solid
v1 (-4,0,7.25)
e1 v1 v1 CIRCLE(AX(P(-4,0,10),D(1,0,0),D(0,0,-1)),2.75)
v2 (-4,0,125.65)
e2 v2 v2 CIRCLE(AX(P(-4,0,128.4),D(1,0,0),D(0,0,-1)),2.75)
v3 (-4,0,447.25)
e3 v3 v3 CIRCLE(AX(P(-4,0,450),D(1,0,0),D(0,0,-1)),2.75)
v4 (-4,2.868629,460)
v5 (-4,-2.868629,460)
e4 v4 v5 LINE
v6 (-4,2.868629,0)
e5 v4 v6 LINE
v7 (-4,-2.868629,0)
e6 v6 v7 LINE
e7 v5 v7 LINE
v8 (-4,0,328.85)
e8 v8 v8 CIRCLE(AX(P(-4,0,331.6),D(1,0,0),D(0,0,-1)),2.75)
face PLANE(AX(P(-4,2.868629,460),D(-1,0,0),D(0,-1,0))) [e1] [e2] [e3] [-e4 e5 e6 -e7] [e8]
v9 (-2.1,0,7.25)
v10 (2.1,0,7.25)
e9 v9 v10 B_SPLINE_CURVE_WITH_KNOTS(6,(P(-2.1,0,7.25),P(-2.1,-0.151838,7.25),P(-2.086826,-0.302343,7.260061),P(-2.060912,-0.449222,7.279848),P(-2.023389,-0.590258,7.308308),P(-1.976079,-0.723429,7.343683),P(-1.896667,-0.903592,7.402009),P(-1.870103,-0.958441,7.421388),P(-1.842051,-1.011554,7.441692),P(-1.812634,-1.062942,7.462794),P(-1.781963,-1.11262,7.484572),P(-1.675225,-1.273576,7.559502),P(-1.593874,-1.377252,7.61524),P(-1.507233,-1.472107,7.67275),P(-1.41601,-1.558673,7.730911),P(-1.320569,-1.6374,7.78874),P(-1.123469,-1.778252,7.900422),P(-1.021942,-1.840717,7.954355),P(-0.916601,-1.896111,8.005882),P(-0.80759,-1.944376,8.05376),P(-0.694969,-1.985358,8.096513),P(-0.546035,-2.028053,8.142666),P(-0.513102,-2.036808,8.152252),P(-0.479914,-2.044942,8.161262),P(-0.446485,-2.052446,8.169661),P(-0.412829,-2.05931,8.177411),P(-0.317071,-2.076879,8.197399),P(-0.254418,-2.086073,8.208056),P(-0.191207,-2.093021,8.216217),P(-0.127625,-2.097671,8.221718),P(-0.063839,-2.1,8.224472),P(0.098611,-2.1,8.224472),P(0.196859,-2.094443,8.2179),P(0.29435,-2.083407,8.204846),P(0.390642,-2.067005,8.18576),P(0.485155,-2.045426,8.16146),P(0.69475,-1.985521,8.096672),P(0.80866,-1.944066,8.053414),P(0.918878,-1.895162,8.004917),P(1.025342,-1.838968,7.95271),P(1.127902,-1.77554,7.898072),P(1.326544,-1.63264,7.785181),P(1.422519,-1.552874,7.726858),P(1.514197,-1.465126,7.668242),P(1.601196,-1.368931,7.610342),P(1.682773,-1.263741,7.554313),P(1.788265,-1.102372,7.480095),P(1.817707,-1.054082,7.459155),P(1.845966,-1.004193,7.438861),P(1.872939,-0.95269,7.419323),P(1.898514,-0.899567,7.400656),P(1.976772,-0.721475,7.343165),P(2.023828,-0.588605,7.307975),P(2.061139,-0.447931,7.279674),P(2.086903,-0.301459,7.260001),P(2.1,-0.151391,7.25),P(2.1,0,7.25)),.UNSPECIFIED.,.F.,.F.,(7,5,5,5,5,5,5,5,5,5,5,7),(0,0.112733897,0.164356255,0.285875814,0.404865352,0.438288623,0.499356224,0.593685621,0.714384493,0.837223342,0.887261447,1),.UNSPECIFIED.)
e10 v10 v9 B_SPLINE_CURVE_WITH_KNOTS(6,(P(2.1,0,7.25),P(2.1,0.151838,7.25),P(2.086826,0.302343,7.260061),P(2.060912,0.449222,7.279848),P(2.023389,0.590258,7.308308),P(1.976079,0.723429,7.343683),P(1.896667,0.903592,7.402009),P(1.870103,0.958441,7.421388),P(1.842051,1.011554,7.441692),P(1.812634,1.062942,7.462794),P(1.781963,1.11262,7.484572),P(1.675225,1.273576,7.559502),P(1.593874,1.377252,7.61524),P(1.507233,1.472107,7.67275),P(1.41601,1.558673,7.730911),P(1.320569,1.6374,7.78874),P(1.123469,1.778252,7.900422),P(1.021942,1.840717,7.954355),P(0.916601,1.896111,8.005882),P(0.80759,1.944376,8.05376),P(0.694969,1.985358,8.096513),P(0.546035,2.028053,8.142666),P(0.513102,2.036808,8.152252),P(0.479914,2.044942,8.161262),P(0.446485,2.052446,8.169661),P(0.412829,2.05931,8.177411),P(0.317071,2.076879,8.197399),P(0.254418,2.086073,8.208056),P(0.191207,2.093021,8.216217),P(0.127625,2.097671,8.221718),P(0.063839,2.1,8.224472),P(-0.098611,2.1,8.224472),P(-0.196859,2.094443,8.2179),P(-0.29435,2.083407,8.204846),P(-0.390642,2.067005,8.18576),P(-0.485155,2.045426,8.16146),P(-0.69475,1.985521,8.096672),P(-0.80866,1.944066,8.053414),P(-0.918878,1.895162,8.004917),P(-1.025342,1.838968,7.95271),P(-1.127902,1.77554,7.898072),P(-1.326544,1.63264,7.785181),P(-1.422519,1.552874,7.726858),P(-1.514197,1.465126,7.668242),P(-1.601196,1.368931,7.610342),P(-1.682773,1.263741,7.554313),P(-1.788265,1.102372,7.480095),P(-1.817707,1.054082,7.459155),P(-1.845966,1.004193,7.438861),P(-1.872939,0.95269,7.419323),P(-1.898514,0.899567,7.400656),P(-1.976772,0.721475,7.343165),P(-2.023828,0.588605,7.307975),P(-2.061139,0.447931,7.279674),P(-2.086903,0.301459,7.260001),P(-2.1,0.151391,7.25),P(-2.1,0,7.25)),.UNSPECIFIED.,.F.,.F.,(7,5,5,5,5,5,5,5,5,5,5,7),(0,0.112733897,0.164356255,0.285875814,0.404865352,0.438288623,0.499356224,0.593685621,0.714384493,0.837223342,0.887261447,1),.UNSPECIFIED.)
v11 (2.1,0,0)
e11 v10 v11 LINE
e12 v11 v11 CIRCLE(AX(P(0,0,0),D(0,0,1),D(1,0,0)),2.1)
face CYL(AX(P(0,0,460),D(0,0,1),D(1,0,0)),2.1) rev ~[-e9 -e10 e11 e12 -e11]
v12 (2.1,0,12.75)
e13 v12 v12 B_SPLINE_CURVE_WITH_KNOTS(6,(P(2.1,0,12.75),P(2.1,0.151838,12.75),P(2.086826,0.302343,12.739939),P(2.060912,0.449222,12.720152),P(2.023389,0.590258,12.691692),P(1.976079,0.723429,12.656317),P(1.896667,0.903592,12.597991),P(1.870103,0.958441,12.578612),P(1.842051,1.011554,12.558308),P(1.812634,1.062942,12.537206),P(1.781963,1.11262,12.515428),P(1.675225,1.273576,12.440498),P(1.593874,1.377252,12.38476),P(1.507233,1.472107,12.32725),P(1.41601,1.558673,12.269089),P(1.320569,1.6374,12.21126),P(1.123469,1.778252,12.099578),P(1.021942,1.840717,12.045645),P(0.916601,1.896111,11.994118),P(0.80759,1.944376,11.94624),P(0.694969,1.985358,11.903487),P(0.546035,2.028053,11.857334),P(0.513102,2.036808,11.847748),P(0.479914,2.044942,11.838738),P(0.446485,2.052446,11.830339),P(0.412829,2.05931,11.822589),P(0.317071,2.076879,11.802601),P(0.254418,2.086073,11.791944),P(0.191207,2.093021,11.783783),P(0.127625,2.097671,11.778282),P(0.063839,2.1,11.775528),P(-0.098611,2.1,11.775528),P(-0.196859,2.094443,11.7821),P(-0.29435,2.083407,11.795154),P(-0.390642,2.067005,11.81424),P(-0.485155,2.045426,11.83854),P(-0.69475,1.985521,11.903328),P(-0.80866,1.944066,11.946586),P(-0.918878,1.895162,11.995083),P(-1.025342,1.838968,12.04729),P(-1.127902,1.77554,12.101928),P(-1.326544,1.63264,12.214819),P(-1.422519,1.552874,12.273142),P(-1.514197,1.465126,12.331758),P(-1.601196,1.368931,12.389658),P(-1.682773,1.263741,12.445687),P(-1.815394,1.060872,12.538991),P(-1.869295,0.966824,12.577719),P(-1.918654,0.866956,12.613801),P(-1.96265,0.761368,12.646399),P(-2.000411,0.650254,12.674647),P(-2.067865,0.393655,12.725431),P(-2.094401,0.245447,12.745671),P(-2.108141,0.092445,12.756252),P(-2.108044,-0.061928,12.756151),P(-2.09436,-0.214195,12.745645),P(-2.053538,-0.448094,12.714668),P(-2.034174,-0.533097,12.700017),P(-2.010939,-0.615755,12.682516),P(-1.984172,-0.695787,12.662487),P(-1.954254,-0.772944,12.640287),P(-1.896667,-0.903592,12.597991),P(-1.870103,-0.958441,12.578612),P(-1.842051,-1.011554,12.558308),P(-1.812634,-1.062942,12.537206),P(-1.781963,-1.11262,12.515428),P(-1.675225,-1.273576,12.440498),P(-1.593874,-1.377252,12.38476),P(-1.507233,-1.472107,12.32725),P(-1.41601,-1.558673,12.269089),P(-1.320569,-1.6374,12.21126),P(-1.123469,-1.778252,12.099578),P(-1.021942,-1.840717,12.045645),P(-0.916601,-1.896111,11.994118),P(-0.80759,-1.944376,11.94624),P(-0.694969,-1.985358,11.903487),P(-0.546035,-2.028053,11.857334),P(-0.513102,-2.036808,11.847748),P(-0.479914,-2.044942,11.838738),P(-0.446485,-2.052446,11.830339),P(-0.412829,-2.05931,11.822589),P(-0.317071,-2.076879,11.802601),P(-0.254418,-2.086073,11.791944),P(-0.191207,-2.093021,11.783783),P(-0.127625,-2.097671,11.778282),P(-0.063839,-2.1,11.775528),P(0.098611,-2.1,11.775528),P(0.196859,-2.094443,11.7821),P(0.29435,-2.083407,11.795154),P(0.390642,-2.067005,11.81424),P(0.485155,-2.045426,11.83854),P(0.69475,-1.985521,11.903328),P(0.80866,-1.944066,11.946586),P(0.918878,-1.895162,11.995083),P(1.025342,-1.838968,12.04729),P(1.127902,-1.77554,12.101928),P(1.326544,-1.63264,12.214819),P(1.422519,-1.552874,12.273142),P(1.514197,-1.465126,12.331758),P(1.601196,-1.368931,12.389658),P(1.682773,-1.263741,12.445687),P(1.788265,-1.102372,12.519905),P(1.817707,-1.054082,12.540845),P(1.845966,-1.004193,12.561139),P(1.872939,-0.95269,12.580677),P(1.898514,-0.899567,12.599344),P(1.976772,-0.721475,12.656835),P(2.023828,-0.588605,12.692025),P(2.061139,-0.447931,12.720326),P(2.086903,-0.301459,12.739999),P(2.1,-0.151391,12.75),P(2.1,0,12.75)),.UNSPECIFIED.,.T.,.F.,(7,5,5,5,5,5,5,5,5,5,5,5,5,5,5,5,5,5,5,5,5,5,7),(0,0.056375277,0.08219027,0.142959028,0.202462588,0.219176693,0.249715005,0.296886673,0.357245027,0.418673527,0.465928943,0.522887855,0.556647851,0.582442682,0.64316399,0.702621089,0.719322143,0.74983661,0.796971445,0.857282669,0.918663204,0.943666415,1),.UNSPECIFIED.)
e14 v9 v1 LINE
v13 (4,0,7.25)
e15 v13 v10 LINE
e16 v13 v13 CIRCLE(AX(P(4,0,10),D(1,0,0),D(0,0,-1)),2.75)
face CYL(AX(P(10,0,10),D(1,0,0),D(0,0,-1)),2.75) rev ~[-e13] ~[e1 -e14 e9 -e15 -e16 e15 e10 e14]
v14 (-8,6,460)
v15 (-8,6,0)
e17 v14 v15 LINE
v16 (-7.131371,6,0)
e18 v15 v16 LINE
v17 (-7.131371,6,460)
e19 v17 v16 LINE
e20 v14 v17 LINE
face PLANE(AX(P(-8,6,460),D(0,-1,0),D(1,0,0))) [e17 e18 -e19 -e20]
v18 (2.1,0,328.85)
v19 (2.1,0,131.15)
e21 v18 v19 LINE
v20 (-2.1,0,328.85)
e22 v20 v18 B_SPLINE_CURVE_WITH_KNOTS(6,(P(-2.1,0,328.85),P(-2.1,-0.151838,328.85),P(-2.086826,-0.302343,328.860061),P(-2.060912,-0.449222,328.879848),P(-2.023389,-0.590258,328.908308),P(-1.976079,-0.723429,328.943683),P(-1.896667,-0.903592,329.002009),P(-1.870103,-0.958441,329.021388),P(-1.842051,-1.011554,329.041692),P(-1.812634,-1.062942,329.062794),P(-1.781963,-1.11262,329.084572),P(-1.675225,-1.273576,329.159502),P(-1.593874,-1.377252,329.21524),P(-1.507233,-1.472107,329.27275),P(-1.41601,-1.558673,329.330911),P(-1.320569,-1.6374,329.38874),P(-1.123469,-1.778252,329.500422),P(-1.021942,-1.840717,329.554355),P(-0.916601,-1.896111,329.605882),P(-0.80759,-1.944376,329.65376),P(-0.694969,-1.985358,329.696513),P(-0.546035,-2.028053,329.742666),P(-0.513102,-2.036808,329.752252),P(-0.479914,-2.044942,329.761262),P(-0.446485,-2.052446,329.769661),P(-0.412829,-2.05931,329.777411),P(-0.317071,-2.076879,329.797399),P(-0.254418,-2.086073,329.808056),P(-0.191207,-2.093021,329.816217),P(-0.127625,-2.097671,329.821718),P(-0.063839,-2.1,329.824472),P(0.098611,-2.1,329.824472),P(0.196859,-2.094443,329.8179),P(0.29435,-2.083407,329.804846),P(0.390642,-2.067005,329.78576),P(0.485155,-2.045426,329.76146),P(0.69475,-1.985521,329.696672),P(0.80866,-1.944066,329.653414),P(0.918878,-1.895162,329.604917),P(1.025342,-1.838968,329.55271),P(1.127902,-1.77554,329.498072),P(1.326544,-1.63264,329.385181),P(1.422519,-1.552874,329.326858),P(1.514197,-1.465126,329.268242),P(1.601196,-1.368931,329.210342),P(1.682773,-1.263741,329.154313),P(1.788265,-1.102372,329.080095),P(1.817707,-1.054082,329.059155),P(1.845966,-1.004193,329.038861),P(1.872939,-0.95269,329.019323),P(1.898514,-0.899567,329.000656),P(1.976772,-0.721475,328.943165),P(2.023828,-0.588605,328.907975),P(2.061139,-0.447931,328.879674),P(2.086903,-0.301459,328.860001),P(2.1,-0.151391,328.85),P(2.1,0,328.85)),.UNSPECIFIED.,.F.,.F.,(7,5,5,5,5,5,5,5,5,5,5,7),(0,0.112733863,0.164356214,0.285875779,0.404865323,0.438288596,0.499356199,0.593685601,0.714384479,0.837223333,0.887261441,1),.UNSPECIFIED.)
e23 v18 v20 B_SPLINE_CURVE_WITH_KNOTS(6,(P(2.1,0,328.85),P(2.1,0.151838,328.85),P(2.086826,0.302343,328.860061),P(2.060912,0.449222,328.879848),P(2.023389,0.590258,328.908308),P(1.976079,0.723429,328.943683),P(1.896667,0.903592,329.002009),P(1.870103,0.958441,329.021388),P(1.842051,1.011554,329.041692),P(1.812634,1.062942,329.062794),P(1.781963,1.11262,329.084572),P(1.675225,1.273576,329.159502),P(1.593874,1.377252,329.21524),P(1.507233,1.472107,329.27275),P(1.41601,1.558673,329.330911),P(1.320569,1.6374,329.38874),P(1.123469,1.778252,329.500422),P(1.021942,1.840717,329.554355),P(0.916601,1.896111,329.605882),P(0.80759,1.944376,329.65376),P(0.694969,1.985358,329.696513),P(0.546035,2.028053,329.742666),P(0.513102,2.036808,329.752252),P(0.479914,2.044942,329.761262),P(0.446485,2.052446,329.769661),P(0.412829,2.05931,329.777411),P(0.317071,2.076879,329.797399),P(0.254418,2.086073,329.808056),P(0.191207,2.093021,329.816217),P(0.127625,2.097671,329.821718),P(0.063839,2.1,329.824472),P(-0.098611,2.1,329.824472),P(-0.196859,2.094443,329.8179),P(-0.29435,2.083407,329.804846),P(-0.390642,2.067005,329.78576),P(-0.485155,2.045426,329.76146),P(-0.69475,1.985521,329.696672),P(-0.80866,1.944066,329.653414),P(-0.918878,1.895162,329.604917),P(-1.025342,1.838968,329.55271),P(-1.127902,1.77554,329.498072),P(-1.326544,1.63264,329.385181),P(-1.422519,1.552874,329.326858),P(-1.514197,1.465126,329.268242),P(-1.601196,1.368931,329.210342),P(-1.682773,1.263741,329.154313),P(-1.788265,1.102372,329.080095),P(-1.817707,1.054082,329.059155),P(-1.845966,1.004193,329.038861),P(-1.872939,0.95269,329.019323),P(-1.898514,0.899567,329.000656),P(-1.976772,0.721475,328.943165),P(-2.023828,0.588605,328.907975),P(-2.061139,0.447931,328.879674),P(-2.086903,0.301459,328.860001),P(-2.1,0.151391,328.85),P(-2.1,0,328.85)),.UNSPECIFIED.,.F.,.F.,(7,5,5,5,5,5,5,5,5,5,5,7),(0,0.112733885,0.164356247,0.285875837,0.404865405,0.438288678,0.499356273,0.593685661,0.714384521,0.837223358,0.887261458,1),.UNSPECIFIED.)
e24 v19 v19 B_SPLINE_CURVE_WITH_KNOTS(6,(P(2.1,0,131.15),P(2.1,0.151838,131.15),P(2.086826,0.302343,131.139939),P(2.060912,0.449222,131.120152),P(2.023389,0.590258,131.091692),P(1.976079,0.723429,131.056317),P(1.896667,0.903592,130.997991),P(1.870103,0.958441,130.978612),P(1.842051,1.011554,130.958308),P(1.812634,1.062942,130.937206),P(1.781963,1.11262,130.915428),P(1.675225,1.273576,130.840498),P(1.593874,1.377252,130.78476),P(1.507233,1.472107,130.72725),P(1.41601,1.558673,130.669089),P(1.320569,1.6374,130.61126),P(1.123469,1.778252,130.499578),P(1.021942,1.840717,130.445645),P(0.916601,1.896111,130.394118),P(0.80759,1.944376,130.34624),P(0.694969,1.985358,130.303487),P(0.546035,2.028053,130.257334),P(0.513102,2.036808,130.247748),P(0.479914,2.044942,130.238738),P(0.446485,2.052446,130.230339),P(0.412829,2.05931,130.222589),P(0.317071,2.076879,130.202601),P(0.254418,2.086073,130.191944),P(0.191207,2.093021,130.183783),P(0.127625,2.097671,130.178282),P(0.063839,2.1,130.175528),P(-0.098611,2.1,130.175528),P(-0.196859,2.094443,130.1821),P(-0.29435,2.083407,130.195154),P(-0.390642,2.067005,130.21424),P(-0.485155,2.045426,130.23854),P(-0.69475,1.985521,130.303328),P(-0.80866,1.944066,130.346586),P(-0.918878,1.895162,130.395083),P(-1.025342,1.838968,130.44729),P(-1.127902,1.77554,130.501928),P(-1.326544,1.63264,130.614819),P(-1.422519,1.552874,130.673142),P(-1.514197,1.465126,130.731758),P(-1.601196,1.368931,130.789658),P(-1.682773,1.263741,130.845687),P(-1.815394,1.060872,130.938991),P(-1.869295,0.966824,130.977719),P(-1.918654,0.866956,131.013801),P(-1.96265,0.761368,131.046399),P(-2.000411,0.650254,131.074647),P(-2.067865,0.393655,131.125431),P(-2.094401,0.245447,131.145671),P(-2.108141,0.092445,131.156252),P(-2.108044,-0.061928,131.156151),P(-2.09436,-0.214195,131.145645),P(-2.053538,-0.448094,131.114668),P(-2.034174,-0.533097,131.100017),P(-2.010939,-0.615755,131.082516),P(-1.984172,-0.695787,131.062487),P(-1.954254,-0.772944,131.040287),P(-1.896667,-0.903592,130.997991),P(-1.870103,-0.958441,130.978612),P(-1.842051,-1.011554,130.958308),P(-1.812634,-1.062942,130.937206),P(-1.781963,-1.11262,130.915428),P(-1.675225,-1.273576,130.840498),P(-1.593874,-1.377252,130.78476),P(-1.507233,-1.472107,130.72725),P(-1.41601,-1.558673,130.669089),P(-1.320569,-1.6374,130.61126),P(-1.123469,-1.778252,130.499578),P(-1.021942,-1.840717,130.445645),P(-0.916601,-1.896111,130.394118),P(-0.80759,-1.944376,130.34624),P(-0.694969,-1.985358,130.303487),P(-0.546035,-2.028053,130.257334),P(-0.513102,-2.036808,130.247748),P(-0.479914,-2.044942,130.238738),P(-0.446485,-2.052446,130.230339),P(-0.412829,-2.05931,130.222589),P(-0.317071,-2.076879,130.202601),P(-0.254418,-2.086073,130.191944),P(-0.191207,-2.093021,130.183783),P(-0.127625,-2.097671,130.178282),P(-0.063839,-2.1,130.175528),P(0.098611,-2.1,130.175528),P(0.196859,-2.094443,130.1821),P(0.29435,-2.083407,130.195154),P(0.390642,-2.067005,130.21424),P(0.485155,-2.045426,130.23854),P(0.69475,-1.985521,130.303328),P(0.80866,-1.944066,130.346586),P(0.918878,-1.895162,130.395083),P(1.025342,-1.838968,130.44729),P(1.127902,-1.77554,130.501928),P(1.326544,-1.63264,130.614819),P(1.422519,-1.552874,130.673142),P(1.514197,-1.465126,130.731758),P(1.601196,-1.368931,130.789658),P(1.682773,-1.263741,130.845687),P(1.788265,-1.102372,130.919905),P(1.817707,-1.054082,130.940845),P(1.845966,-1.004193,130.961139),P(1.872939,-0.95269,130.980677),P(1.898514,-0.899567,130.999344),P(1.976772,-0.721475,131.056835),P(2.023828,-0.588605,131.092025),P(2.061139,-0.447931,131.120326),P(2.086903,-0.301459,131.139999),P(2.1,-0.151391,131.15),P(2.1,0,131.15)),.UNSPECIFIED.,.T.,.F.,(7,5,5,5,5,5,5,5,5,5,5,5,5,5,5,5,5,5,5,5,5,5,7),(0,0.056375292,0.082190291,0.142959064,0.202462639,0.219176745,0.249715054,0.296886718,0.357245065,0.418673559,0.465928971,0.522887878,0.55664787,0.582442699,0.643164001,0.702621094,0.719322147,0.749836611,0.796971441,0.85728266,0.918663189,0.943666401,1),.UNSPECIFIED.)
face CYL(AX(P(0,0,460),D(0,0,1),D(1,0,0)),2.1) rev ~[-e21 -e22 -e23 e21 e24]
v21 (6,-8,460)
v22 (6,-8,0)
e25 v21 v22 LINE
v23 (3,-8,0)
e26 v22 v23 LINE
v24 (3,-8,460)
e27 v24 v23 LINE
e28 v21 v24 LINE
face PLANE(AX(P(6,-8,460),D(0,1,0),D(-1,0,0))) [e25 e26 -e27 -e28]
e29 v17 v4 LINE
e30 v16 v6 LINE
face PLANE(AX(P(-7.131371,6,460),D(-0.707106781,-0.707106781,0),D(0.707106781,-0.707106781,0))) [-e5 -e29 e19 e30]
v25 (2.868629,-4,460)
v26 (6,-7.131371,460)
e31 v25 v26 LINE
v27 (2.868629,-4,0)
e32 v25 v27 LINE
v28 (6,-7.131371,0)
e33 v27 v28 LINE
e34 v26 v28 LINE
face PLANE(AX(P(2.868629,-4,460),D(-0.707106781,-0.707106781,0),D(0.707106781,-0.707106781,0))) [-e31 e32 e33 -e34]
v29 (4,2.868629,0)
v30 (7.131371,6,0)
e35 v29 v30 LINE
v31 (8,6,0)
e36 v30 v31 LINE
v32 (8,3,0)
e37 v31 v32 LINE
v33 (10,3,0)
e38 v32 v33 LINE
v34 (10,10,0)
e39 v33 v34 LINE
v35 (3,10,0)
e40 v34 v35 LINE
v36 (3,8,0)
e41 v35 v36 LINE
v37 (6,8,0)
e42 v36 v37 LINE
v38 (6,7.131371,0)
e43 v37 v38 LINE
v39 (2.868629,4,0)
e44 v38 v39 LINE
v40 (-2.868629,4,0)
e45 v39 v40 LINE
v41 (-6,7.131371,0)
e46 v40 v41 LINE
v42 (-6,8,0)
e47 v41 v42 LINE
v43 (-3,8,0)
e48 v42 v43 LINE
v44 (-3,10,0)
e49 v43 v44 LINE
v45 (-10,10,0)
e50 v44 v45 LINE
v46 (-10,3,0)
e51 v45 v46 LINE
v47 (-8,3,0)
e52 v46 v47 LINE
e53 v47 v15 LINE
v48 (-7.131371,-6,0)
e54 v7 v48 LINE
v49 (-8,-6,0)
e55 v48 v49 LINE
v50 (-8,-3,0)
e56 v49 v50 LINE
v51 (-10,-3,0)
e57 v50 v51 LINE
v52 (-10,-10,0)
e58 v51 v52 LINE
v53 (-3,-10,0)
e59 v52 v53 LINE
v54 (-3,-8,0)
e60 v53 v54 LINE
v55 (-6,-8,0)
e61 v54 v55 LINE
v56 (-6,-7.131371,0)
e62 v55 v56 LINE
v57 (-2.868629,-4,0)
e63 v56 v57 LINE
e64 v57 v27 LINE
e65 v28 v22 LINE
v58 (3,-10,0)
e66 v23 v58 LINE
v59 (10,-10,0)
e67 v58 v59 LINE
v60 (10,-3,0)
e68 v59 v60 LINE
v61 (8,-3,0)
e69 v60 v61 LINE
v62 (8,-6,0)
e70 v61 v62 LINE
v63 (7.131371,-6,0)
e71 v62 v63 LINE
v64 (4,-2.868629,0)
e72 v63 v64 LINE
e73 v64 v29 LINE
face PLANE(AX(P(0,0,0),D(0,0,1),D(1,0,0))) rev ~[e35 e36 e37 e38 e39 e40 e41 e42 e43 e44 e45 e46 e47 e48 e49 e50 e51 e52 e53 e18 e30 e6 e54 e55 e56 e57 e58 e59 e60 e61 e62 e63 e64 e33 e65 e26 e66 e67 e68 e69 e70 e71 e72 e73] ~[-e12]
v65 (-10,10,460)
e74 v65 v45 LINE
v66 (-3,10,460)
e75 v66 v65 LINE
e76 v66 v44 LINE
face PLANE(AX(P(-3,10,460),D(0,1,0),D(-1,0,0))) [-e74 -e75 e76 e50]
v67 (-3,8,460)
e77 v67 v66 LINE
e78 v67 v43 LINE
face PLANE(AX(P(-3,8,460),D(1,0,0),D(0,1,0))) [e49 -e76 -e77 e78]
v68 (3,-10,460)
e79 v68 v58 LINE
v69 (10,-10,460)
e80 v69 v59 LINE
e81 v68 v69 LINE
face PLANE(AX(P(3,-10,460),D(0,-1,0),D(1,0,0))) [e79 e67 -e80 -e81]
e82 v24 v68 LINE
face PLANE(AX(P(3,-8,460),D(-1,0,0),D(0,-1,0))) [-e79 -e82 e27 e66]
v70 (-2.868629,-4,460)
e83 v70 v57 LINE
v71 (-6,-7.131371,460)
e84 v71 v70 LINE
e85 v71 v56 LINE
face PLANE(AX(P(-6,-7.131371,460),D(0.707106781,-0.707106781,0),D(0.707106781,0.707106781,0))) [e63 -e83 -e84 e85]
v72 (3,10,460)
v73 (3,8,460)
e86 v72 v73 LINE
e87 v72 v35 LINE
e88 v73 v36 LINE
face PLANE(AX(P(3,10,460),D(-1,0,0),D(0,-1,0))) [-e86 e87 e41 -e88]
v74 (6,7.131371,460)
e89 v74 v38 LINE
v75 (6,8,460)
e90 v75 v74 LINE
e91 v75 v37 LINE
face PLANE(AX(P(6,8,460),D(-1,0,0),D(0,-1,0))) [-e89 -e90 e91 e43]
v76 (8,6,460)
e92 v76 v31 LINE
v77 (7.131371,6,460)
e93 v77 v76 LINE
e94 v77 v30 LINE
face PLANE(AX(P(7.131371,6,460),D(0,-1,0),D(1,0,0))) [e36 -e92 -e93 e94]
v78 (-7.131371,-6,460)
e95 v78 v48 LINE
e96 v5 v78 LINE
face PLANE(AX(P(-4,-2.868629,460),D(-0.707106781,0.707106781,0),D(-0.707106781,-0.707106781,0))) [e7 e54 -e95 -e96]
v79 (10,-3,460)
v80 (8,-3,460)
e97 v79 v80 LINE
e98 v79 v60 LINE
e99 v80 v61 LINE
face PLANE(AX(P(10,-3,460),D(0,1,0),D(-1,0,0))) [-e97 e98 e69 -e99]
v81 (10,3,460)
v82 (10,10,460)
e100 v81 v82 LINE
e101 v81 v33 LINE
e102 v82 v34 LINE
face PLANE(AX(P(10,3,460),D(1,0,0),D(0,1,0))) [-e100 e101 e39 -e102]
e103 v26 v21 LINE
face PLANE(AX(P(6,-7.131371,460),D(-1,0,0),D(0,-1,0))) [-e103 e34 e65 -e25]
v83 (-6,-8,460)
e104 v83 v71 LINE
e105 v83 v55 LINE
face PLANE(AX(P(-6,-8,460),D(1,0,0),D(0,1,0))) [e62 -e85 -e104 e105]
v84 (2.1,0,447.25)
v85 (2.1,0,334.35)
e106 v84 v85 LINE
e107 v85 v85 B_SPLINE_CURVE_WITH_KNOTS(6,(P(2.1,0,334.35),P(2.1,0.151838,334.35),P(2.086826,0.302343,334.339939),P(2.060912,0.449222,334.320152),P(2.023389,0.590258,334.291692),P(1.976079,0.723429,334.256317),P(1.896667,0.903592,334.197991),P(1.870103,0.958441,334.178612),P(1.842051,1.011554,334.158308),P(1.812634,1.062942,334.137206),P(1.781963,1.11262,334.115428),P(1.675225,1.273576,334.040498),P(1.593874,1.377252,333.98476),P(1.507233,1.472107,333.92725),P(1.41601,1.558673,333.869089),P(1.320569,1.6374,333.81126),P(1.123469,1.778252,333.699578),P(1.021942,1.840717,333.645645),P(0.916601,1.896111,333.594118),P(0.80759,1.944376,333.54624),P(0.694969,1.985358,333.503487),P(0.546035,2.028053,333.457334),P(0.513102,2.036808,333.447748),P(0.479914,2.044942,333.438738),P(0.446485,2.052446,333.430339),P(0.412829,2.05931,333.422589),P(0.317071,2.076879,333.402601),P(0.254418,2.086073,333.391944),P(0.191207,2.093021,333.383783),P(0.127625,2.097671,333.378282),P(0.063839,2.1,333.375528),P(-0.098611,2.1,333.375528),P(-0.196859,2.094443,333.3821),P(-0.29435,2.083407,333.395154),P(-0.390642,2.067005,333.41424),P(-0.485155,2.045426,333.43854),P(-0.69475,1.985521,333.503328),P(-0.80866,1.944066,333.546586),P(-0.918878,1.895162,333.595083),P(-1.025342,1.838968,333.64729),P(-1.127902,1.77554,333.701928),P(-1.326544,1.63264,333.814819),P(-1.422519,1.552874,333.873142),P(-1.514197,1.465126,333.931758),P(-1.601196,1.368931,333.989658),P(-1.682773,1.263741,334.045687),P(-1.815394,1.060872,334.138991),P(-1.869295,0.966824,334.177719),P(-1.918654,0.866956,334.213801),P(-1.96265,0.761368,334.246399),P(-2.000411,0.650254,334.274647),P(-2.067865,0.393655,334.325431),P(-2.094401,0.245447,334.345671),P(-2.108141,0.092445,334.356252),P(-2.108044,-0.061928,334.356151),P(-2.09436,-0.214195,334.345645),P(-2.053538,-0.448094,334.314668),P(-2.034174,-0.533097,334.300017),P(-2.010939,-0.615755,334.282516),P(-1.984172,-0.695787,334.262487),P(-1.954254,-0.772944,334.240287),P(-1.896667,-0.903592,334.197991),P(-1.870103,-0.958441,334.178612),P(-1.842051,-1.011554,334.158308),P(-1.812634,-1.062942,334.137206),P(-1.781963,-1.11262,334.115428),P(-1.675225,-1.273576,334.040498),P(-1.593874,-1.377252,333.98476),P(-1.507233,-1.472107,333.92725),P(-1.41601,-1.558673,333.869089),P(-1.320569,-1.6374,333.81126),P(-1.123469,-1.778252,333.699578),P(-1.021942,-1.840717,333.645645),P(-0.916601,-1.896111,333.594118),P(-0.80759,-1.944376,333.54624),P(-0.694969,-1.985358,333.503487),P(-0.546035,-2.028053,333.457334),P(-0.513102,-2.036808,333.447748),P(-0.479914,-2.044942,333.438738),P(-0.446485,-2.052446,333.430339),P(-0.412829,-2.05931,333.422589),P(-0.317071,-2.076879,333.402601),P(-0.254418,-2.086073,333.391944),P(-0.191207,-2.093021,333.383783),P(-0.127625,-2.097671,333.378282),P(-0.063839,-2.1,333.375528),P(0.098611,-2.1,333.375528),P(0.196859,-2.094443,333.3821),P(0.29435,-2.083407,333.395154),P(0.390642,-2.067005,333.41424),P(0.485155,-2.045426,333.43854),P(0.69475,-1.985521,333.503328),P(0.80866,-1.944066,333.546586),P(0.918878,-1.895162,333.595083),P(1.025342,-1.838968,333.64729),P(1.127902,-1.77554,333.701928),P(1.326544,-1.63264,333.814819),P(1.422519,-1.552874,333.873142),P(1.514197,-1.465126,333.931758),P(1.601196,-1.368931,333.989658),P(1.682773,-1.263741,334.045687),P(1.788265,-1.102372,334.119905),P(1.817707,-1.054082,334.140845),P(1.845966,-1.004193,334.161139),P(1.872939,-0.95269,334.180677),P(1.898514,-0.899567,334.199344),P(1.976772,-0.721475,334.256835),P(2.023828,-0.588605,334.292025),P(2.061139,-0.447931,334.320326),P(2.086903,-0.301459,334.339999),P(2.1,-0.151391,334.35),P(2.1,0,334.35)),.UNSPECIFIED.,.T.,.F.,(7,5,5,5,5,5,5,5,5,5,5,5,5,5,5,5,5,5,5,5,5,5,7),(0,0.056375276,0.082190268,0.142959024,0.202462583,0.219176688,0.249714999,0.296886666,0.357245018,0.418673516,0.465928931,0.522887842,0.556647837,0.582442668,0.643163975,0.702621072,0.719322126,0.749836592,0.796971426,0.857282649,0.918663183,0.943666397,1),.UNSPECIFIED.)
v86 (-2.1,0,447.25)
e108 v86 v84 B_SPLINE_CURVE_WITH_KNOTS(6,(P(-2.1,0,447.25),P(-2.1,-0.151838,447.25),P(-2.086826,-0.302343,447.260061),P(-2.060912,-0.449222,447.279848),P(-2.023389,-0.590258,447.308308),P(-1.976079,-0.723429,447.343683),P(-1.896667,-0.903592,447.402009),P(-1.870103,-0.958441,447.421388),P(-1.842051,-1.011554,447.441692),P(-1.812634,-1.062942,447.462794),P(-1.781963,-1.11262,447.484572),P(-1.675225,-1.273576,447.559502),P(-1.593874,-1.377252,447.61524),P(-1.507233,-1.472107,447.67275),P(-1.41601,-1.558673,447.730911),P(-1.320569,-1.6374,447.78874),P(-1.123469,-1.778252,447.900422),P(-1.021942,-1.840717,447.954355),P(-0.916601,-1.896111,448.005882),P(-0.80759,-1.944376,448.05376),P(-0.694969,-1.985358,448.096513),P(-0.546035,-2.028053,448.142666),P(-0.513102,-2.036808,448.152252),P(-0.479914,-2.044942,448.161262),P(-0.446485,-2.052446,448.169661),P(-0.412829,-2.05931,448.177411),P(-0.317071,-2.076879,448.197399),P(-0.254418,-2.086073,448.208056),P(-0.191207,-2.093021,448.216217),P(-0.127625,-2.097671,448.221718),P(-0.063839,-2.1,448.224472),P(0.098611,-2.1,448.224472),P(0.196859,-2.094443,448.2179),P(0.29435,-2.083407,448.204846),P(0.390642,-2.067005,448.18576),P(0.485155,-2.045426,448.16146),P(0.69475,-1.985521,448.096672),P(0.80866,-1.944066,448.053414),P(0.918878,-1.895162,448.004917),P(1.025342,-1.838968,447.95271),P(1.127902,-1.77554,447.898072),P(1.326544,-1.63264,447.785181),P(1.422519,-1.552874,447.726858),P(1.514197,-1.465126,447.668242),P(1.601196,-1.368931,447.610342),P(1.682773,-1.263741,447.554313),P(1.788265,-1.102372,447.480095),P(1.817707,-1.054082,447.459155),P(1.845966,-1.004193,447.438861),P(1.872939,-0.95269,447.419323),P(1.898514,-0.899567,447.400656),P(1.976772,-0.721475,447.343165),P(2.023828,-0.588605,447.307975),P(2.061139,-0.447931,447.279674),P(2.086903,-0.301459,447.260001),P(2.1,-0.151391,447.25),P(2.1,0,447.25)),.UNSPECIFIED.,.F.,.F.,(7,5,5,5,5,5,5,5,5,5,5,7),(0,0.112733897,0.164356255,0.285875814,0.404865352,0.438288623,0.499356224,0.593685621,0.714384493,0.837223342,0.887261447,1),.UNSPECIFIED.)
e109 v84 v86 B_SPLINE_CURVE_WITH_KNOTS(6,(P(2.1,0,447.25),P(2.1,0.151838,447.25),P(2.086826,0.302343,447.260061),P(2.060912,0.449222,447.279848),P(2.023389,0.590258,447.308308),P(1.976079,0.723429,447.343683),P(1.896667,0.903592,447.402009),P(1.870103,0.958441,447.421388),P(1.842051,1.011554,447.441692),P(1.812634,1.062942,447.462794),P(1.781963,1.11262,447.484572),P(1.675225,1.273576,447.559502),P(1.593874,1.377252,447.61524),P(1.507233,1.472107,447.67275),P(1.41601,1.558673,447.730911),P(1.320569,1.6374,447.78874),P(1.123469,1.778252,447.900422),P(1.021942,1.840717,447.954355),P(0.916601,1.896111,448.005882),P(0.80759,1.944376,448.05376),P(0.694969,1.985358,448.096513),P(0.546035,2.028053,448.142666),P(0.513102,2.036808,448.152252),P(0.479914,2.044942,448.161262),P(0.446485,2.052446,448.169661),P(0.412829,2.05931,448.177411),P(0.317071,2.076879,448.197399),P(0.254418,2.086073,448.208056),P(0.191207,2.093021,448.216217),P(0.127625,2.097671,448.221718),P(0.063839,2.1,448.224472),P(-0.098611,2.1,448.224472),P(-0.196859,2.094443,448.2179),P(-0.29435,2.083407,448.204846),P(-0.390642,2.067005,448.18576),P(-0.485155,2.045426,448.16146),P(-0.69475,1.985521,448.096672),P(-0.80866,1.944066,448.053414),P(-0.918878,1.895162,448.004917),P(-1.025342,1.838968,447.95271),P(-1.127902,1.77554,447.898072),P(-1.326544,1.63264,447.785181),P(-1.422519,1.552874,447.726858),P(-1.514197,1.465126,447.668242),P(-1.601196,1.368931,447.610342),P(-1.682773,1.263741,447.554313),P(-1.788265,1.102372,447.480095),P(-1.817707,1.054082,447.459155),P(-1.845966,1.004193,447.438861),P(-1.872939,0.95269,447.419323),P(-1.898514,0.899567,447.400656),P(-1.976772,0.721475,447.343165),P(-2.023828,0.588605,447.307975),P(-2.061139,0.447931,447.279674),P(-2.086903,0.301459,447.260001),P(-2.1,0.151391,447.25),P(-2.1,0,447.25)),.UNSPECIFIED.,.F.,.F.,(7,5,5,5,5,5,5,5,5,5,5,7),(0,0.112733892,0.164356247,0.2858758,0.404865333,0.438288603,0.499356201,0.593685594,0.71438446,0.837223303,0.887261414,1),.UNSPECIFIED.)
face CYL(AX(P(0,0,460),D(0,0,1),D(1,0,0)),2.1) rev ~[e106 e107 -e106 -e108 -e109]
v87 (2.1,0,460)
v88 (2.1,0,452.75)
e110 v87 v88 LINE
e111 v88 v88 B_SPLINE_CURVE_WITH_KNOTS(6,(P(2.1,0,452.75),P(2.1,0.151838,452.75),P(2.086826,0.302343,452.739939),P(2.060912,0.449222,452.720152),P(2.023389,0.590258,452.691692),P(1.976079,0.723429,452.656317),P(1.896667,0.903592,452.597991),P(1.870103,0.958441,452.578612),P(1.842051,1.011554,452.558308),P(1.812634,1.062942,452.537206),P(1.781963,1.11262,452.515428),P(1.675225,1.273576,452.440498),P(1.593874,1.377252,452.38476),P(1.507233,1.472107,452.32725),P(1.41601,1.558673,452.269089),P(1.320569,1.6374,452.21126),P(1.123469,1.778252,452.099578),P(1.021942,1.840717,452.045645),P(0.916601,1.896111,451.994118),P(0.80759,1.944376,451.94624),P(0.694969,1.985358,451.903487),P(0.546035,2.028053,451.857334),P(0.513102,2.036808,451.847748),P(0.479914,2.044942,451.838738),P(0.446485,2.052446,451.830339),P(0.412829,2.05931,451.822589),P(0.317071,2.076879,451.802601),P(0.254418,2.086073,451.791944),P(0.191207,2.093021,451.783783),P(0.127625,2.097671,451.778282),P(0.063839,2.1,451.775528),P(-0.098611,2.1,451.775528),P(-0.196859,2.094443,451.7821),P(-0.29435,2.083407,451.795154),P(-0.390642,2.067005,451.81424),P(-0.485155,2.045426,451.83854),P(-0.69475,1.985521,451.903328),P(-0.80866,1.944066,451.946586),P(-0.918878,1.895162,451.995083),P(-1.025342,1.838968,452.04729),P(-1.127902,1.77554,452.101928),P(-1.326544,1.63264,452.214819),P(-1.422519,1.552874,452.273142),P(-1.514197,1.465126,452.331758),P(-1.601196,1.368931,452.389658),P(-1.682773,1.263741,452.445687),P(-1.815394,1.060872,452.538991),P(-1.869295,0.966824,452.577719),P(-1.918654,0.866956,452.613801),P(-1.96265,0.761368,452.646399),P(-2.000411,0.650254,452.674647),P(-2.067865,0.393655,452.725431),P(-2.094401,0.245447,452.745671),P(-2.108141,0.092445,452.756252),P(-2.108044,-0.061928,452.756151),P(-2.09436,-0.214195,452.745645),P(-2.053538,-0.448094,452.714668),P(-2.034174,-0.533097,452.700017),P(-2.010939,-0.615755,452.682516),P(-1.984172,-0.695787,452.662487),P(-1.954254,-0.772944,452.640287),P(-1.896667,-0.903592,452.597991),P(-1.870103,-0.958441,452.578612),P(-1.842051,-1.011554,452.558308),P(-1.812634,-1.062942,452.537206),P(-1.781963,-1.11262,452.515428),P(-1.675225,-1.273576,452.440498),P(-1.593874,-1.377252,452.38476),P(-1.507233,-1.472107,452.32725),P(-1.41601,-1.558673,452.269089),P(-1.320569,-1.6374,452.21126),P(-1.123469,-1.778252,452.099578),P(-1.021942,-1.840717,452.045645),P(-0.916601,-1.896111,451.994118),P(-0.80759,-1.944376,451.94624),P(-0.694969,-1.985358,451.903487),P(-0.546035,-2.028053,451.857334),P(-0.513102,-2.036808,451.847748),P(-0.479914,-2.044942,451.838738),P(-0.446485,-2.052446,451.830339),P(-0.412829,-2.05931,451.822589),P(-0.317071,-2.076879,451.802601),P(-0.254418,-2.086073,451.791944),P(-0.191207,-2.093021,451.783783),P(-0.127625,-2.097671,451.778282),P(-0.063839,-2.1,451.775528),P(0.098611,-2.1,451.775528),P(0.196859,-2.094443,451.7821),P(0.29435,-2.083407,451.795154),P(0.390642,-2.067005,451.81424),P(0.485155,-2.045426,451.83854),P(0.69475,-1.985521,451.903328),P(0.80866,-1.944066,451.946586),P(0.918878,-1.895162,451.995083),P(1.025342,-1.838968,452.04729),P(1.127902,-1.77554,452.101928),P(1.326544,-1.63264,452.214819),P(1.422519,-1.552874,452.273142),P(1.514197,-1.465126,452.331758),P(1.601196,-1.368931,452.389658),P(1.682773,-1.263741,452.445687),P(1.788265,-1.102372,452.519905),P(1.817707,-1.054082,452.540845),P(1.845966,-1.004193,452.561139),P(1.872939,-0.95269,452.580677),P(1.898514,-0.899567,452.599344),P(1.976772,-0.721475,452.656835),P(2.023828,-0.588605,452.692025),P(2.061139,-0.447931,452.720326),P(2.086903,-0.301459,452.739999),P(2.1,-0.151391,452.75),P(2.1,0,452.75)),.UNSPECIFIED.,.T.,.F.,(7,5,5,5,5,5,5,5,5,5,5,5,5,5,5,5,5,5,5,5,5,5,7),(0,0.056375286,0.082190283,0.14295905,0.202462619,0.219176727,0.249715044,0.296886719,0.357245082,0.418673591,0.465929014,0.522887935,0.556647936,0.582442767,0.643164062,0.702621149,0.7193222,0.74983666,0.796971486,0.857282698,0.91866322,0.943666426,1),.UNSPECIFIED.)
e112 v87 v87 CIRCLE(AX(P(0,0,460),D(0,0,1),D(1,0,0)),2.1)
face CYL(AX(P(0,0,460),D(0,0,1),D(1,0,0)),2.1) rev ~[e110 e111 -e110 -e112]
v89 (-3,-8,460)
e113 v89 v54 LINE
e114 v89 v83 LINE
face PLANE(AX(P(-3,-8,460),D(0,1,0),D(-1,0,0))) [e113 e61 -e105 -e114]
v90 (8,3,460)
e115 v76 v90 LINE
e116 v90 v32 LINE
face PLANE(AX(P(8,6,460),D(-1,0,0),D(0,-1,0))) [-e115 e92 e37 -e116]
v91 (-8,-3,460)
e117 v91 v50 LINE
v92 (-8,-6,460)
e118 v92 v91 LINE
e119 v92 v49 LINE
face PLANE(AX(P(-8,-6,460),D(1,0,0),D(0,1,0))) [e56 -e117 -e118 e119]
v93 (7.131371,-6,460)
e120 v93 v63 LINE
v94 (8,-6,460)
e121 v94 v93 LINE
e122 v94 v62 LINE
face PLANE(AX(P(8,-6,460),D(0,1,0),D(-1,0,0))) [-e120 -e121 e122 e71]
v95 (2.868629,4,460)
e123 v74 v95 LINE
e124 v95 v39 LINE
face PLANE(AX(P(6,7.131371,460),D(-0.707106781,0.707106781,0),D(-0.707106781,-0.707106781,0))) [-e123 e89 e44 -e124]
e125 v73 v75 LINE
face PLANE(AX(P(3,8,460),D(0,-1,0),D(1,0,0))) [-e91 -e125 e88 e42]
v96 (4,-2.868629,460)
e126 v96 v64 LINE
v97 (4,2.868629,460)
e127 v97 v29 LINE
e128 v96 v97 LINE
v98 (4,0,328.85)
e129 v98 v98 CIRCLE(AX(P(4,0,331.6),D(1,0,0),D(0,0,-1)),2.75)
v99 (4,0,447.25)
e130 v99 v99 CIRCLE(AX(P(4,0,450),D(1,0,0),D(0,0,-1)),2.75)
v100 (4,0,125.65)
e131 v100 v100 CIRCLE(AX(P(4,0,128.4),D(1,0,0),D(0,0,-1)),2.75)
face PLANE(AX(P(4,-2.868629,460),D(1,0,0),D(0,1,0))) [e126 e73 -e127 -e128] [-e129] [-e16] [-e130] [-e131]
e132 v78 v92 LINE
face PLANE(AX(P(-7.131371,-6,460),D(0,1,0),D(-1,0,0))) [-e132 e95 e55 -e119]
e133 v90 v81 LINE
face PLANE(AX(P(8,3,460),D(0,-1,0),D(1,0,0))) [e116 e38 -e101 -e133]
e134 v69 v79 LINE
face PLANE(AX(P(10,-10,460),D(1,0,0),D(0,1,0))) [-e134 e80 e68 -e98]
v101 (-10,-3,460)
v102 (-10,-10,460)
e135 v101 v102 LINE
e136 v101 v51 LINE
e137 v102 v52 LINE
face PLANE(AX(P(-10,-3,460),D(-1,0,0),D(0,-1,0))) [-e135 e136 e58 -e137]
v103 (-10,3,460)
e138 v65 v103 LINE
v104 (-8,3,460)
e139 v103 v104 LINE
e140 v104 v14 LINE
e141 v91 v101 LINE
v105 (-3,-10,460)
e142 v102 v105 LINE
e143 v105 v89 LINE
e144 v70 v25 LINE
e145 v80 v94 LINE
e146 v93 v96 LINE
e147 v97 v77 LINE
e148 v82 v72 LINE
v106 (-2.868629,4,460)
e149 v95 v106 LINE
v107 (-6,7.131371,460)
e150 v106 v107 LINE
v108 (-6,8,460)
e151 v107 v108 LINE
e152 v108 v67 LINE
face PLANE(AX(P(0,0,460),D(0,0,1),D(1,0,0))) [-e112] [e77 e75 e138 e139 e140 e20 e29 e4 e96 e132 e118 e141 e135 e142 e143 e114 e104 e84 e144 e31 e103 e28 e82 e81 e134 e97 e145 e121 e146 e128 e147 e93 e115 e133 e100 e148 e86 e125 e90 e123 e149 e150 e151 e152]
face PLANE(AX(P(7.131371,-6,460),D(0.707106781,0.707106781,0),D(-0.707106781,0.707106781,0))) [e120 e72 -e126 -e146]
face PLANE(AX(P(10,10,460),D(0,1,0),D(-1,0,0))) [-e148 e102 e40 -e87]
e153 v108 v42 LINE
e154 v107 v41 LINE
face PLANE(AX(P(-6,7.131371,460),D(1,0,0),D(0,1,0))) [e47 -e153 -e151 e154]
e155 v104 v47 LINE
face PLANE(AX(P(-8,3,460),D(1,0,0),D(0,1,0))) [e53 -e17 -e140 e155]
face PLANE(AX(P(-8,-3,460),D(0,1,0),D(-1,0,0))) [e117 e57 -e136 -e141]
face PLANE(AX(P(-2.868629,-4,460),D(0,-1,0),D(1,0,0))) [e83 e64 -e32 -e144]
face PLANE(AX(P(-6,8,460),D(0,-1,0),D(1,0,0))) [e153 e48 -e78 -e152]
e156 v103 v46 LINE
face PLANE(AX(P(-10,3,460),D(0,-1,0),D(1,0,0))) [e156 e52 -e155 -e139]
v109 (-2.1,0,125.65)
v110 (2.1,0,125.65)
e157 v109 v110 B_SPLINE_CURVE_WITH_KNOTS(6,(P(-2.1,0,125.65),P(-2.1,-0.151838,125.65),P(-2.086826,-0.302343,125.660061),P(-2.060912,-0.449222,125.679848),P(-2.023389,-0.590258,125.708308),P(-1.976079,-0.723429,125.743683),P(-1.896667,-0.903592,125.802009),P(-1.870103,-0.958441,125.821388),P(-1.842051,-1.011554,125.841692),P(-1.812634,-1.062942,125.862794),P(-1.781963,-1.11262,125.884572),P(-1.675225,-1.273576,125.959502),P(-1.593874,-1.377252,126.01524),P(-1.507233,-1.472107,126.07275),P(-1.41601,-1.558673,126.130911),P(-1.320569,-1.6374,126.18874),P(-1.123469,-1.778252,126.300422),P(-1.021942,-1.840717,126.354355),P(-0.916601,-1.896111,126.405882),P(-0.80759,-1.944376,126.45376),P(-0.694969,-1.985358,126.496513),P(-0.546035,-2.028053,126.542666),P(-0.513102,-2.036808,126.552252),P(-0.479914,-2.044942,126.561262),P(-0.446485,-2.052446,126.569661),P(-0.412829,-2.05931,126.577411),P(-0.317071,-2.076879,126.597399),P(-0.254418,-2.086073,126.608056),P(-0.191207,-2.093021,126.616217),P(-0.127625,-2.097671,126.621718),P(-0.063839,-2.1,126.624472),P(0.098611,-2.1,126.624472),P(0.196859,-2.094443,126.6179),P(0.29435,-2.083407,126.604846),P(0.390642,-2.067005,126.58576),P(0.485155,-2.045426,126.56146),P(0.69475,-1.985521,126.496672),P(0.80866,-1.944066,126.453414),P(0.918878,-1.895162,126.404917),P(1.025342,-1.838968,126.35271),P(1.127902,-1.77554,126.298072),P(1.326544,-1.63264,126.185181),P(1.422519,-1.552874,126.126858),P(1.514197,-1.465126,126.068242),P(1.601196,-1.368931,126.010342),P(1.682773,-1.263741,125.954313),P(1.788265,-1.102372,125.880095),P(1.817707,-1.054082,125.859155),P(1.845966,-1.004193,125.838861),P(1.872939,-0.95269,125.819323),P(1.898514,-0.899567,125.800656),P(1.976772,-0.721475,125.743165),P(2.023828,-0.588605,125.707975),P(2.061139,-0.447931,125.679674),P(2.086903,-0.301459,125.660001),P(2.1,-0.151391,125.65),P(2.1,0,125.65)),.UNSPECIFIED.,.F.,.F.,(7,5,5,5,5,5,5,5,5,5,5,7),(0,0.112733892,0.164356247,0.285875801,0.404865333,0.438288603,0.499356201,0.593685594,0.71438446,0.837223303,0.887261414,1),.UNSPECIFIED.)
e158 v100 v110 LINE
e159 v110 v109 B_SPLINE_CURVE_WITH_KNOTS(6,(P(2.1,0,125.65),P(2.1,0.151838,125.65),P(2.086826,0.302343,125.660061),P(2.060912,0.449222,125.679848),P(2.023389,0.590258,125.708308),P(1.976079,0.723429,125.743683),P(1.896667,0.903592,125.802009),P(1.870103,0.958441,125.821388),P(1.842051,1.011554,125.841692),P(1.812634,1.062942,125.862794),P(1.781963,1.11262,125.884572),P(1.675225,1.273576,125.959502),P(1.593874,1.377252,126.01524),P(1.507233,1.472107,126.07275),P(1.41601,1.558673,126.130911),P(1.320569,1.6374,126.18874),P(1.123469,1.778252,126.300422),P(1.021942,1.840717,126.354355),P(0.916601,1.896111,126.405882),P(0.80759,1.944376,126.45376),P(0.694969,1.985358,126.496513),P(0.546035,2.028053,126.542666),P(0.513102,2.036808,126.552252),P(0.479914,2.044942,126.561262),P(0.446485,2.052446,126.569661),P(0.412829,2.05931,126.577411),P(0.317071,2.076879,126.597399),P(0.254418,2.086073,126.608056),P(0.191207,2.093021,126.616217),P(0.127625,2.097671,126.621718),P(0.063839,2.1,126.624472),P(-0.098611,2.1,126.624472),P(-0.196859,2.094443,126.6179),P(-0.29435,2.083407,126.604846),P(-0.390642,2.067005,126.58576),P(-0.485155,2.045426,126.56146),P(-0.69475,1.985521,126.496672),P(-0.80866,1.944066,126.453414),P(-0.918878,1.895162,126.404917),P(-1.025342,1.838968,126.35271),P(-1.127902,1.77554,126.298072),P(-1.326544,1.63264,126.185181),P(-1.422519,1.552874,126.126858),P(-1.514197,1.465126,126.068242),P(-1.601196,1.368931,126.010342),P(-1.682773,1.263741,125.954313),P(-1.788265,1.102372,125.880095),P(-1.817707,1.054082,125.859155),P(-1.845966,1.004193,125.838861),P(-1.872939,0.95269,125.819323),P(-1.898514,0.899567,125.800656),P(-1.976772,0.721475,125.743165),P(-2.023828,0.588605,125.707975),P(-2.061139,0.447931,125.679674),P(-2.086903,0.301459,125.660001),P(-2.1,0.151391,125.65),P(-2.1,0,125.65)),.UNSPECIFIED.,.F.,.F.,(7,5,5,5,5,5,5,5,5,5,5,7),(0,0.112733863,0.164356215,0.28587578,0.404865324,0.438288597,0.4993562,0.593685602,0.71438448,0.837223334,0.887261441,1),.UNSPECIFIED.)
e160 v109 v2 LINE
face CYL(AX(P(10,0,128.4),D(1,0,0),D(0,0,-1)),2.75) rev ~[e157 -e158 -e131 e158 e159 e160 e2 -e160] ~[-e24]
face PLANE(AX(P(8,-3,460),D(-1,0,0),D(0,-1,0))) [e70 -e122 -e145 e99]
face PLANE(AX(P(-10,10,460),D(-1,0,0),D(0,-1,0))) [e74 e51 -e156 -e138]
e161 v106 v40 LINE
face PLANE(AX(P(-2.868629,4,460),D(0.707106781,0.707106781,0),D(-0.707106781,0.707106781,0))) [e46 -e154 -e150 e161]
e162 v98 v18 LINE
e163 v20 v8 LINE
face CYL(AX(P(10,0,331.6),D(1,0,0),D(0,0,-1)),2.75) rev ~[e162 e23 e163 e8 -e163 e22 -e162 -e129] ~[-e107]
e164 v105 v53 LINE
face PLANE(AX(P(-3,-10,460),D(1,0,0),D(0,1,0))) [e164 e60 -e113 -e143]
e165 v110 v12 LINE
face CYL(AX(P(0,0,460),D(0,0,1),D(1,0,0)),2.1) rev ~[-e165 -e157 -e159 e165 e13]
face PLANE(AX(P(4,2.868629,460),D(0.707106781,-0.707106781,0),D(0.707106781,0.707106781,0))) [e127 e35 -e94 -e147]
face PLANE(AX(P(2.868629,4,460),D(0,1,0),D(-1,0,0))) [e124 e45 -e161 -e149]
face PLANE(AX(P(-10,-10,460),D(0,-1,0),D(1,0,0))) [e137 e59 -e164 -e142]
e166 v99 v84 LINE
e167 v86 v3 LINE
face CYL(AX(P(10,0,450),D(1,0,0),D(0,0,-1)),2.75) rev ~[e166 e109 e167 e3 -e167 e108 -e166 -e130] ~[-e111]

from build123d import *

# Parameters (mm, degrees)
CROQUIS1_R              = 2.1
SALIENTE_EXTRUIR1_DEPTH = 460
CROQUIS2_R              = 2.75
CORTAR_EXTRUIR1_DEPTH   = 21


with BuildPart() as part:
    # Croquis1 → Saliente-Extruir1 (new body)
    with BuildSketch(Plane.XY.offset(460)):
        Polygon((-10, 10), (-10, 3), (-8, 3), (-8, 6), (-7.13137085, 6), (-4, 2.86862915), (-4, -2.86862915), (-7.13137085, -6), (-8, -6), (-8, -3), (-10, -3), (-10, -10), (-3, -10), (-3, -8), (-6, -8), (-6, -7.13137085), (-2.86862915, -4), (2.86862915, -4), (6, -7.13137085), (6, -8), (3, -8), (3, -10), (10, -10), (10, -3), (8, -3), (8, -6), (7.13137085, -6), (4, -2.86862915), (4, 2.86862915), (7.13137085, 6), (8, 6), (8, 3), (10, 3), (10, 10), (3, 10), (3, 8), (6, 8), (6, 7.13137085), (2.86862915, 4), (-2.86862915, 4), (-6, 7.13137085), (-6, 8), (-3, 8), (-3, 10), align=None)
        Circle(CROQUIS1_R, mode=Mode.SUBTRACT)
    extrude(amount=-SALIENTE_EXTRUIR1_DEPTH)

    # Croquis2 → Cortar-Extruir1 (cut, through all)
    with BuildSketch(Plane(origin=(10, 0, 0), x_dir=(0, 0, -1), z_dir=(1, 0, 0))):
        with Locations((-128.4, 0)):
            Circle(CROQUIS2_R)
        with Locations((-331.6, 0)):
            Circle(CROQUIS2_R)
        with Locations((-450, 0)):
            Circle(CROQUIS2_R)
        with Locations((-10, 0)):
            Circle(CROQUIS2_R)
    extrude(amount=-CORTAR_EXTRUIR1_DEPTH, mode=Mode.SUBTRACT)


solid = part.part
